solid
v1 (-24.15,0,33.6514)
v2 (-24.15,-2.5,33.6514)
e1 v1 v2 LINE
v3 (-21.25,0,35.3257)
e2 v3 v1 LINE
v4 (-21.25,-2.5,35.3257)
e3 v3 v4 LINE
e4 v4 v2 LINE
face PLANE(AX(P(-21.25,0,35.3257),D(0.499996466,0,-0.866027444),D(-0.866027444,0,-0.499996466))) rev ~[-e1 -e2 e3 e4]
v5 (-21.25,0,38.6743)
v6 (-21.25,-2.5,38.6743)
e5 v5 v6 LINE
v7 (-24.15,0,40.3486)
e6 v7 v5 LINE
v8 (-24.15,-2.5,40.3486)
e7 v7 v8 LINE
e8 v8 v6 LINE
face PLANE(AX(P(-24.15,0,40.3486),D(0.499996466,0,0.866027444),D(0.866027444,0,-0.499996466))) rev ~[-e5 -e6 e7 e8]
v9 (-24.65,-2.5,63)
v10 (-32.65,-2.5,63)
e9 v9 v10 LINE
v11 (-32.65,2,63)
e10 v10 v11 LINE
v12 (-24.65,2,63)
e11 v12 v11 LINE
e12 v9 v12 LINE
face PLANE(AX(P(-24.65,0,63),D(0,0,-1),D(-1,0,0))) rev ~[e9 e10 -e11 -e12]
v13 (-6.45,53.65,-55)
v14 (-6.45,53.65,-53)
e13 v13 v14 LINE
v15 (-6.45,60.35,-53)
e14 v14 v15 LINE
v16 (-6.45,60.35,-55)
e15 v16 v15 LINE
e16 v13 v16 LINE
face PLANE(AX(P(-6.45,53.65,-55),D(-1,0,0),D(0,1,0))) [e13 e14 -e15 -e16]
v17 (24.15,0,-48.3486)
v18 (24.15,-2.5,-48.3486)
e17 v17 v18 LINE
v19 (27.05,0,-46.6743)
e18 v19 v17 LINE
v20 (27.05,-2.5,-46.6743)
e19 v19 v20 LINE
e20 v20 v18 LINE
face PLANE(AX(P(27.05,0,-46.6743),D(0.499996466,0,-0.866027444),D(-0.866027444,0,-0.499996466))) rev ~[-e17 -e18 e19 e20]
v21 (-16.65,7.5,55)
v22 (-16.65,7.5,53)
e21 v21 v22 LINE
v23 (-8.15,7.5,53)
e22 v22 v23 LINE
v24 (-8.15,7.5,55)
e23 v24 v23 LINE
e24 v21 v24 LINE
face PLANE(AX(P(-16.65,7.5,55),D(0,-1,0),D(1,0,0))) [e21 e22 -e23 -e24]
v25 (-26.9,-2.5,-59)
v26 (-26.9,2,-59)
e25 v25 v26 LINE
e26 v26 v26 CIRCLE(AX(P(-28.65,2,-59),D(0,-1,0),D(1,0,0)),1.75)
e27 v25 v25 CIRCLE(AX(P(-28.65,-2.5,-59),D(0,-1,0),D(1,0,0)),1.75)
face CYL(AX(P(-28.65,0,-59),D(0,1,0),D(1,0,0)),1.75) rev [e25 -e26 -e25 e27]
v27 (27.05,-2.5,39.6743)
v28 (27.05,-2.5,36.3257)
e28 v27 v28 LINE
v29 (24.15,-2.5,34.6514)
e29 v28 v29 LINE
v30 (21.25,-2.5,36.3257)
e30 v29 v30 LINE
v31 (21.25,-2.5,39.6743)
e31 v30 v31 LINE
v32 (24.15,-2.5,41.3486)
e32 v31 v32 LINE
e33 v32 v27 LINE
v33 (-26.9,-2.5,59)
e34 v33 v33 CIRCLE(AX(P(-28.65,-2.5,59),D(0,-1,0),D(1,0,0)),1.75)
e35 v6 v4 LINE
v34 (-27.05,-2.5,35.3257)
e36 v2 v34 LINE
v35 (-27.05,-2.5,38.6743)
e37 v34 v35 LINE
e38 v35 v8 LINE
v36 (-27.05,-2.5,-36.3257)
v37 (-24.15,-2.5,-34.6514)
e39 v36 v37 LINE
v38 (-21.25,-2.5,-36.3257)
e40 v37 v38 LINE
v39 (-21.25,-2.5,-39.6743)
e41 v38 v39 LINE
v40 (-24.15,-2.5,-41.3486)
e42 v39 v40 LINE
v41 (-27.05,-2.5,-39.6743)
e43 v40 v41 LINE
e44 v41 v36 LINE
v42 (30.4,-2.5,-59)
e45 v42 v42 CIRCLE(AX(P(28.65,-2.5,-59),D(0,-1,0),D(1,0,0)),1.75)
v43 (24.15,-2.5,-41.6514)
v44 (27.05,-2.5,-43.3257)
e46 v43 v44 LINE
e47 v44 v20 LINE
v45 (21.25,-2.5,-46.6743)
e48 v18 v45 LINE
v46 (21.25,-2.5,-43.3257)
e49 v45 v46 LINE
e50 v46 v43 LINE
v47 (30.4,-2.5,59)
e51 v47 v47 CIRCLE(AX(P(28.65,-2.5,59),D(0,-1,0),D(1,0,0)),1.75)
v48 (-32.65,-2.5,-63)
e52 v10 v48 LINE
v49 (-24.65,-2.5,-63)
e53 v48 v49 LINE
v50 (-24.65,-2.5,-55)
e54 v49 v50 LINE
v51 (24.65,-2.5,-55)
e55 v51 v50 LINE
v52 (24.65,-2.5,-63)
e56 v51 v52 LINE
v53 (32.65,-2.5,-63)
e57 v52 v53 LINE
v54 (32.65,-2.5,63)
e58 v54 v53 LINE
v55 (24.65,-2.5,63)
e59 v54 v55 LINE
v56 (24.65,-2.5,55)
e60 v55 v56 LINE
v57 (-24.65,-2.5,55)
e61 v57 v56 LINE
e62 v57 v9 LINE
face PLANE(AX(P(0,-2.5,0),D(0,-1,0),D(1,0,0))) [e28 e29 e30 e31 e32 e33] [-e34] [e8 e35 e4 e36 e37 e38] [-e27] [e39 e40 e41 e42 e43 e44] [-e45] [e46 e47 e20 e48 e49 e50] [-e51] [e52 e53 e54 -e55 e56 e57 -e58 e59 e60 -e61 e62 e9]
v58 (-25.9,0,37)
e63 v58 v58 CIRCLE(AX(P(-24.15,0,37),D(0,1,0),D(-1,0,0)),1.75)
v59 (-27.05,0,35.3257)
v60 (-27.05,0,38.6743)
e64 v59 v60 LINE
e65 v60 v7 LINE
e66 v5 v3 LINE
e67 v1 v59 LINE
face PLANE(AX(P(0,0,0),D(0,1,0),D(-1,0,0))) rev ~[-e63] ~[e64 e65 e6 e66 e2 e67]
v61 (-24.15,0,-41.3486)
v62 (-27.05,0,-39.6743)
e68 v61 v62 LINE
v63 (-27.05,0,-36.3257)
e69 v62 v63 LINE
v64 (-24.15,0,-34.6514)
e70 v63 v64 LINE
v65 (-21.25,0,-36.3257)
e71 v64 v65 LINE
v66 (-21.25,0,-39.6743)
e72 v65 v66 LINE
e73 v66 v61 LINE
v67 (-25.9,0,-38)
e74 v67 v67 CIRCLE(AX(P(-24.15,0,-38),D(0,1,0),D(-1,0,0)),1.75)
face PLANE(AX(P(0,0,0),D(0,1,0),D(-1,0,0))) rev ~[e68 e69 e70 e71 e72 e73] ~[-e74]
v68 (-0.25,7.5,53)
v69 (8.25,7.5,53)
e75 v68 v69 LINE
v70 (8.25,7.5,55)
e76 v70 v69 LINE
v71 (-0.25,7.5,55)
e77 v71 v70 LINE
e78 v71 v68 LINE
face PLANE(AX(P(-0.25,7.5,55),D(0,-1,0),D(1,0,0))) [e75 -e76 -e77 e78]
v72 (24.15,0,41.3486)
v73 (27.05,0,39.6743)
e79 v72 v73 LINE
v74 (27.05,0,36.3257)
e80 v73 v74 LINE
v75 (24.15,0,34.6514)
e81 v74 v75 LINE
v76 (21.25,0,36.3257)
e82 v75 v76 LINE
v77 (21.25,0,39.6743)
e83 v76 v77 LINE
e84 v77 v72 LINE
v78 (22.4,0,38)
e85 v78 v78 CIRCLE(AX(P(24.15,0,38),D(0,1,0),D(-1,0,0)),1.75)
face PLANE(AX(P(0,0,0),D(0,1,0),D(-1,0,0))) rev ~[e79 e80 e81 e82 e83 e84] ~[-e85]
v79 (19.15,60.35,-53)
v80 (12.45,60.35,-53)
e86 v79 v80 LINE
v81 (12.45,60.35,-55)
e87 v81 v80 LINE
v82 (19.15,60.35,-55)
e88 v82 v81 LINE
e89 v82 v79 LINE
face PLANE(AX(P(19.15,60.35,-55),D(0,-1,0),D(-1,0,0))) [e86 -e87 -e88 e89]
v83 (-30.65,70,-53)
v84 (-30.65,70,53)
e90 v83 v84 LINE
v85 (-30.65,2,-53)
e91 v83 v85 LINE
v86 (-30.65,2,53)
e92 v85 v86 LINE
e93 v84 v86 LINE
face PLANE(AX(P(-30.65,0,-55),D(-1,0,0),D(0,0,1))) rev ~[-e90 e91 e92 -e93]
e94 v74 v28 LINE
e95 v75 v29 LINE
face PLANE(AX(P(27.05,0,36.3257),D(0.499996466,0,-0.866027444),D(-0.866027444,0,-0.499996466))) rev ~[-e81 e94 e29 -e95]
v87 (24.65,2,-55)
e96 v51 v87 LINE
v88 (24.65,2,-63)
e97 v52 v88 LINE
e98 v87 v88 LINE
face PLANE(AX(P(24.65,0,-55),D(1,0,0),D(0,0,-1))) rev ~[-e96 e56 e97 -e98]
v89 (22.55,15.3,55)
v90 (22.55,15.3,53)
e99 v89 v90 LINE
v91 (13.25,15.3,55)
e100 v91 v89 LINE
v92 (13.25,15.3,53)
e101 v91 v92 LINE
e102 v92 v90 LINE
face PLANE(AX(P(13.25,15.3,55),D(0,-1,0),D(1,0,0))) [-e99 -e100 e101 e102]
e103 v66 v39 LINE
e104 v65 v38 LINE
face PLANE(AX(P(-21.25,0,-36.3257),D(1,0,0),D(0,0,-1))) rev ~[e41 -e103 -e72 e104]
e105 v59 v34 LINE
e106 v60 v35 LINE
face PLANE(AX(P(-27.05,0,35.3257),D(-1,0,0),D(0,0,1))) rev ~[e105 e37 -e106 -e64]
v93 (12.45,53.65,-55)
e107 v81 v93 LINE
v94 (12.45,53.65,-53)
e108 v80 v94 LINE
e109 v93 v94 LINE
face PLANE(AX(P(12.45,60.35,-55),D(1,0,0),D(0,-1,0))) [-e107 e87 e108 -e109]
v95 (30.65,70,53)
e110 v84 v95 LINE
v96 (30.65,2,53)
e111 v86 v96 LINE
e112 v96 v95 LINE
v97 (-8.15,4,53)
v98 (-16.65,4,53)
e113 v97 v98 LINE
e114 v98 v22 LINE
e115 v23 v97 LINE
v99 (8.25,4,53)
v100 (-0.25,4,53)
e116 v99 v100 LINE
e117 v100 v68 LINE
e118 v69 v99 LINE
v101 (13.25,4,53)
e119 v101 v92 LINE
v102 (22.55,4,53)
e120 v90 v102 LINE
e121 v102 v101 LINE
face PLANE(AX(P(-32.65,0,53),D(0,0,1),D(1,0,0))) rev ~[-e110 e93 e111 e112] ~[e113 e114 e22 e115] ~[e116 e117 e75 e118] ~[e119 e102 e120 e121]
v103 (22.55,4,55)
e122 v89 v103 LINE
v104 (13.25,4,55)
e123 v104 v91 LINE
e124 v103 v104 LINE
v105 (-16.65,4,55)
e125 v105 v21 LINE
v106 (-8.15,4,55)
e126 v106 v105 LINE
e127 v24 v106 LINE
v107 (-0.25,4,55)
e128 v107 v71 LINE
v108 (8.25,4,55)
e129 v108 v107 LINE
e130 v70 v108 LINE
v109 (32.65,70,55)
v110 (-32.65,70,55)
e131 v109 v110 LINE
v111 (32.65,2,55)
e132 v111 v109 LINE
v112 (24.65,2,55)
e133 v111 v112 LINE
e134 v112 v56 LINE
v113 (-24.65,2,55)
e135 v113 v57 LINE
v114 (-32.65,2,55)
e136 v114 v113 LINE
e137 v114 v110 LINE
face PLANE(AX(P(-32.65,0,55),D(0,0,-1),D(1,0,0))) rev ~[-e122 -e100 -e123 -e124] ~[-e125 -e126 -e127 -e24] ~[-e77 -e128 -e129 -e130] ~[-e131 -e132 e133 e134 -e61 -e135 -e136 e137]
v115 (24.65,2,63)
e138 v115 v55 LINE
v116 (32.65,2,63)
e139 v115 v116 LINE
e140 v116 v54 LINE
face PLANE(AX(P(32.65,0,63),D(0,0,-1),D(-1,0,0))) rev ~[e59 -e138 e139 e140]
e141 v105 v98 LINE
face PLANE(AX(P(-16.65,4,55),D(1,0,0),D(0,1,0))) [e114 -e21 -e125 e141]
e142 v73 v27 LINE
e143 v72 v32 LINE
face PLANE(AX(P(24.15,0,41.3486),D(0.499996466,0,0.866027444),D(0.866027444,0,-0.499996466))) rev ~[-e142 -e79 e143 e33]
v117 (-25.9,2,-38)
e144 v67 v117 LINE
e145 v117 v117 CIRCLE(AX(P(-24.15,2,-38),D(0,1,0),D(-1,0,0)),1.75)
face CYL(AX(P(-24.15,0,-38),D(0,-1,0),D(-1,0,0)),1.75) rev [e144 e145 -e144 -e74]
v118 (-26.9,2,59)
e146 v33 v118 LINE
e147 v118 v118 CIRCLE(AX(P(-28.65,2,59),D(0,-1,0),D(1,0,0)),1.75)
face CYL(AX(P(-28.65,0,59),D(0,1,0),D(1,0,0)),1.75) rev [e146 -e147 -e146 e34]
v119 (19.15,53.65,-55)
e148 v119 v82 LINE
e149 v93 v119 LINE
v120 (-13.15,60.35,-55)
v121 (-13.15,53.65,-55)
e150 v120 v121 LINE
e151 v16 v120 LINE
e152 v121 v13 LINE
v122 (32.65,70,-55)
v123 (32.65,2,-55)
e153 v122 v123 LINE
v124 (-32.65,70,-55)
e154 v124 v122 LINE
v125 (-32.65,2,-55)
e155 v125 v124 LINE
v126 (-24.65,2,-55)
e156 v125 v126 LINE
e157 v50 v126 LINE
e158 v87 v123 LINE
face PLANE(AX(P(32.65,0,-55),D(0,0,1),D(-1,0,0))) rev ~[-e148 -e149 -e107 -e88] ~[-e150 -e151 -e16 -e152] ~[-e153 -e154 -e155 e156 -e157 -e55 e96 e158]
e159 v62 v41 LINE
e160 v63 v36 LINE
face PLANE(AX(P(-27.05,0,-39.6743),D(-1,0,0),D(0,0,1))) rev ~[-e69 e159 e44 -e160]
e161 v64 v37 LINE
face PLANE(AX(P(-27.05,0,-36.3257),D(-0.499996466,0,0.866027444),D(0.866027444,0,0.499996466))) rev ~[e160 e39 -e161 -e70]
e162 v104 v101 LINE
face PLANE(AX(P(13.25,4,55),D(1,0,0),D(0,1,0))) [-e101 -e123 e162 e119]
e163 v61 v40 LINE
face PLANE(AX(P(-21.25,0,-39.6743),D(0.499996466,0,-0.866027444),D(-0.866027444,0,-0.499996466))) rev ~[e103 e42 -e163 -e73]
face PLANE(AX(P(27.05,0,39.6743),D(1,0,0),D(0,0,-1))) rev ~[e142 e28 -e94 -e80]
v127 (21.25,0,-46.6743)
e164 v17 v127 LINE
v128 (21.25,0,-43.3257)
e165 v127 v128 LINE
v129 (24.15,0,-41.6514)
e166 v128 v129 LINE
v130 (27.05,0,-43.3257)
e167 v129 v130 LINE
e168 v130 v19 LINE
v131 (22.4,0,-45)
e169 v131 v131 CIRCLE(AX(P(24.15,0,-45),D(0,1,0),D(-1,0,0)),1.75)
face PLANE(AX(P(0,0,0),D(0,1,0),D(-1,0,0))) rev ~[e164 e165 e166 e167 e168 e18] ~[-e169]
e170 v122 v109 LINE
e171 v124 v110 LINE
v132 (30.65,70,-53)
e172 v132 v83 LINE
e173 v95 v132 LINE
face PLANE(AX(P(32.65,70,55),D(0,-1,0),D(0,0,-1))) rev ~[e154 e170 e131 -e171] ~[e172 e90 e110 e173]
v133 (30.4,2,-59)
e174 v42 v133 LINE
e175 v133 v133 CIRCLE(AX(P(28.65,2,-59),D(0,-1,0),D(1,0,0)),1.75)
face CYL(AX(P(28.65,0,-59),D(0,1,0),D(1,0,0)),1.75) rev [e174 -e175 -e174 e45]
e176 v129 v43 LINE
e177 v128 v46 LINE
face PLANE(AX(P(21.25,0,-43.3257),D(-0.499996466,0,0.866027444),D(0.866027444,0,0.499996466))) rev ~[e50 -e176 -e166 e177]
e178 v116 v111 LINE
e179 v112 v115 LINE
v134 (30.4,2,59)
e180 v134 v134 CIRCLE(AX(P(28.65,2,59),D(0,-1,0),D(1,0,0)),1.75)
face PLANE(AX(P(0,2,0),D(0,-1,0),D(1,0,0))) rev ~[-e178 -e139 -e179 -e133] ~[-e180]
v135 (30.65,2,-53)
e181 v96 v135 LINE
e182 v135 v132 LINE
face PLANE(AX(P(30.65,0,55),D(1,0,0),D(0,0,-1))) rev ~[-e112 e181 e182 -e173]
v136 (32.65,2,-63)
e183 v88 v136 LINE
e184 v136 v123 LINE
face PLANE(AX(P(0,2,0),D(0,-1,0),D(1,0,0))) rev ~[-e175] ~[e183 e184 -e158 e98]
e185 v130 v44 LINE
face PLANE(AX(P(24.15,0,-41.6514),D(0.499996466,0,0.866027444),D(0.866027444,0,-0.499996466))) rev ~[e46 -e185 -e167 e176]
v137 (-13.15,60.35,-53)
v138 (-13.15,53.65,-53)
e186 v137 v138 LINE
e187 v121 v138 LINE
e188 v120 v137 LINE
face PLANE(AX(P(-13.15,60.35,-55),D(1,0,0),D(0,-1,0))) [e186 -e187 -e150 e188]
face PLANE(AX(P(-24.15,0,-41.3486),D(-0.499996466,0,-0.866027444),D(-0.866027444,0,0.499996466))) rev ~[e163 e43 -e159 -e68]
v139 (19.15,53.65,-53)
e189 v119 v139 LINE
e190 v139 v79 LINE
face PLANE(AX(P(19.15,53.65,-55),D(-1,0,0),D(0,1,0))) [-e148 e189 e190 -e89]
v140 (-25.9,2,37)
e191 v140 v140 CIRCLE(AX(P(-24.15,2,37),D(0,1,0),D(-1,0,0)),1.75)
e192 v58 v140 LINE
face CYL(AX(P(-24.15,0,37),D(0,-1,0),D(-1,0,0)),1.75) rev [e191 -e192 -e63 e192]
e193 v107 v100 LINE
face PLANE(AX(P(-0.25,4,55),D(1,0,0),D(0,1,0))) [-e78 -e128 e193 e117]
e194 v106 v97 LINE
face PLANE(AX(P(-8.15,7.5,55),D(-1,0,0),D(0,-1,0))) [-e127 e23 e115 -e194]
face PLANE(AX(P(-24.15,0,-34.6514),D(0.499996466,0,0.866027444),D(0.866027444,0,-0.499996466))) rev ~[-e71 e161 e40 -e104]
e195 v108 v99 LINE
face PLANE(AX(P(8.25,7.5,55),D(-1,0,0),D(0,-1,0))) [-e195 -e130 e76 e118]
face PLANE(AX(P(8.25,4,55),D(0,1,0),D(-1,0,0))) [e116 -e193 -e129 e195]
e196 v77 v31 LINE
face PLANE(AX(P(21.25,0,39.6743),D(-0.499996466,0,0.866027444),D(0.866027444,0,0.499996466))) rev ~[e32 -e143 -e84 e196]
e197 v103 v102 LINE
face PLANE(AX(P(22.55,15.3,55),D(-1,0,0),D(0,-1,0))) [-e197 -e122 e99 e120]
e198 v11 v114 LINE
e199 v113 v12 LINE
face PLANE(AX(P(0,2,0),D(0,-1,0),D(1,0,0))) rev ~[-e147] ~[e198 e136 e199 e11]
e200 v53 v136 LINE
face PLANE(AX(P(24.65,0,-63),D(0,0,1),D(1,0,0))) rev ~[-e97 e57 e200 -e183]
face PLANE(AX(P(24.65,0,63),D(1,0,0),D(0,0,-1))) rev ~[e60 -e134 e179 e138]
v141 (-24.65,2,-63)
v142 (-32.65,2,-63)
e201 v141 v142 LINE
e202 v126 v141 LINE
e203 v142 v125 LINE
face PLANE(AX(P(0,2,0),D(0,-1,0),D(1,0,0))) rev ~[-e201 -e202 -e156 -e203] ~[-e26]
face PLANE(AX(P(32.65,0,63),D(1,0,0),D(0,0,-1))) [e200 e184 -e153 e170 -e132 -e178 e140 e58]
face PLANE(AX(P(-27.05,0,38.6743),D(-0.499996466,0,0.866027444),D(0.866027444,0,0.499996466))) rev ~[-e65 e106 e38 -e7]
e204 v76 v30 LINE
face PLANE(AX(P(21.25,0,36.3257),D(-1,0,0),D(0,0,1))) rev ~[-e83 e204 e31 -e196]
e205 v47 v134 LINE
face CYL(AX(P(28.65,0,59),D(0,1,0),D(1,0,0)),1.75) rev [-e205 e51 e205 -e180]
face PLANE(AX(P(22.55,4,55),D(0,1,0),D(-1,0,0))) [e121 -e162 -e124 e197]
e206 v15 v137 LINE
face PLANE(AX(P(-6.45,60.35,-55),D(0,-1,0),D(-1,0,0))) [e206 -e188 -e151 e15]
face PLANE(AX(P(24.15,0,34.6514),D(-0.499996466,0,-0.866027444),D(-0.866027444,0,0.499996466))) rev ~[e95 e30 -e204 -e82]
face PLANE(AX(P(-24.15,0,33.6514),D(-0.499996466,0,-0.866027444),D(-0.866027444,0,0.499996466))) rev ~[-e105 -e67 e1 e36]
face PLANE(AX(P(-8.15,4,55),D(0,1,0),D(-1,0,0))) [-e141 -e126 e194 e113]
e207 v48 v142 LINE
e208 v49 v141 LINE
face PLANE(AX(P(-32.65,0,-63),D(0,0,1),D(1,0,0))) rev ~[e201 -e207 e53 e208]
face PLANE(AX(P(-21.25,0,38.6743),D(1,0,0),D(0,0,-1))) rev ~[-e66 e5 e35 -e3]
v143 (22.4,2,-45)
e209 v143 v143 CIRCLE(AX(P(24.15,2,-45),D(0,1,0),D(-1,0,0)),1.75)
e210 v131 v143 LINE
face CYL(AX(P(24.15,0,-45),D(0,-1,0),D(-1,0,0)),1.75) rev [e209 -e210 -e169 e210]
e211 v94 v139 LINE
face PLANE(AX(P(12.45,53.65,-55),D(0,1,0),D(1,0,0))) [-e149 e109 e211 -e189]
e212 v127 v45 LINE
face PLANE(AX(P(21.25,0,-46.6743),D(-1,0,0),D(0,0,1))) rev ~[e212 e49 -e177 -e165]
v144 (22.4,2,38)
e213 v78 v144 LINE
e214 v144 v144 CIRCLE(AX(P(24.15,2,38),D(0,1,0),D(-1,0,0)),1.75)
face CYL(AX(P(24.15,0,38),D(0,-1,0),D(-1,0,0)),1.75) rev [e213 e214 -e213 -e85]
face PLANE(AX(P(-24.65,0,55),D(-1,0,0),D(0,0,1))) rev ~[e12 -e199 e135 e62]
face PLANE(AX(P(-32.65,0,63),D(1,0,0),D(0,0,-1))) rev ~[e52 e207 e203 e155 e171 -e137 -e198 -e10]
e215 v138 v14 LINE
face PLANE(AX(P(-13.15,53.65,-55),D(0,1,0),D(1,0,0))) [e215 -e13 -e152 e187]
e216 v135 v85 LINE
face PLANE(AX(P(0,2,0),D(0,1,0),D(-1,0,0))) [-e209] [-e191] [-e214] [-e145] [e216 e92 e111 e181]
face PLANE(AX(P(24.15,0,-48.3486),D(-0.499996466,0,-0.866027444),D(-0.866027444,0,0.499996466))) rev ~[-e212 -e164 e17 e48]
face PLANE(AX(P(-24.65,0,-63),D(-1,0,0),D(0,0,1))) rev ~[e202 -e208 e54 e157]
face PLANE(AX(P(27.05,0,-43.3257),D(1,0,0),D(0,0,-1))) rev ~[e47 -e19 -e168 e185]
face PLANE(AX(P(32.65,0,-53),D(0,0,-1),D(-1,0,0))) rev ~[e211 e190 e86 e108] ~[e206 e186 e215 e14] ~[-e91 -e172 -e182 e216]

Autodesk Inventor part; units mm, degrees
ref_plane "YZ Plane" through (0, 0, 0) normal (1, 0, 0) x (0, 1, 0)
ref_plane "XZ Plane" through (0, 0, 0) normal (0, 1, 0) x (-1, 0, 0)
ref_plane "XY Plane" through (0, 0, 0) normal (0, 0, 1) x (1, 0, 0)
sketch "Sketch1" plane through (0, 0, 0) normal (0, 1, 0) x (-1, 0, 0)
  line L0 (32.65, 55) -> (-32.65, 55)
  line L1 (-32.65, 55) -> (-32.65, -55)
  line L2 (-32.65, -55) -> (32.65, -55)
  line L3 (32.65, -55) -> (32.65, 55)
  line L4 (32.65, 55) -> (-32.65, -55) construction
  line L5 (-32.65, 55) -> (32.65, -55) construction
  circle A0 centre (-24.15, 38) radius 1.75
  circle A1 centre (-24.15, -45) radius 1.75
  circle A2 centre (24.15, 37) radius 1.75
  circle A3 centre (24.15, -38) radius 1.75
  point P0 (0, 0)
  dimension "d0" = 110
  dimension "d1" = 65.3
  dimension "d2" = 83
  dimension "d3" = 8.5
  dimension "d4" = 17
  dimension "d5" = 3.5
  dimension "d6" = 3.5
  dimension "d7" = 3.5
  dimension "d8" = 1
  dimension "d9" = 48.3
  dimension "d10" = 3.5
  dimension "d11" = 75
extrude "Extrusion1" add sketch "Sketch1" along normal blind 2
sketch "Sketch2" plane through (-32.65, 0, 55) normal (0, 0, 1) x (1, 0, 0)
  line L0 (0, 70) -> (65.3, 70)
  line L1 (65.3, 70) -> (65.3, 0)
  line L2 (65.3, 0) -> (0, 0)
  line L3 (0, 0) -> (0, 70)
  line L4 (0, 70) -> (65.3, 0) construction
  line L5 (65.3, 70) -> (0, 0) construction
  line L6 (65.3, 0) -> (65.3, 2) projected
  line L7 (16, 7.5) -> (24.5, 7.5)
  line L8 (24.5, 7.5) -> (24.5, 4)
  line L9 (24.5, 4) -> (16, 4)
  line L10 (16, 4) -> (16, 7.5)
  line L11 (16, 7.5) -> (24.5, 4) construction
  line L12 (24.5, 7.5) -> (16, 4) construction
  line L13 (32.4, 7.5) -> (40.9, 7.5)
  line L14 (40.9, 7.5) -> (40.9, 4)
  line L15 (40.9, 4) -> (32.4, 4)
  line L16 (32.4, 4) -> (32.4, 7.5)
  line L17 (32.4, 7.5) -> (40.9, 4) construction
  line L18 (40.9, 7.5) -> (32.4, 4) construction
  line L19 (45.9, 15.3) -> (55.2, 15.3)
  line L20 (55.2, 15.3) -> (55.2, 4)
  line L21 (55.2, 4) -> (45.9, 4)
  line L22 (45.9, 4) -> (45.9, 15.3)
  line L23 (45.9, 15.3) -> (55.2, 4) construction
  line L24 (55.2, 15.3) -> (45.9, 4) construction
  line L25 (0, 2) -> (65.3, 2) projected
  point P0 (32.65, 0)
  point P1 (32.65, 35)
  point P2 (20.25, 5.75)
  point P3 (36.65, 5.75)
  point P4 (50.55, 9.65)
  point P5 (45.9, 9.65)
  dimension "d14" = 70
  dimension "d15" = 11.3
  dimension "d16" = 9.3
  dimension "d17" = 8.5
  dimension "d18" = 3.5
  dimension "d19" = 8.5
  dimension "d20" = 3.5
  dimension "d21" = 2
  dimension "d22" = 7.9
  dimension "d23" = 16
  dimension "d24" = 5
extrude "Extrusion2" add sketch "Sketch2" against normal blind 2 contours L0 L1 L25 L3
sketch "Sketch3" plane through (32.65, 0, 55) normal (1, 0, 0) x (0, 0, -1)
  line L0 (110, 0) -> (110, 2) projected
  line L1 (0, 70) -> (110, 70)
  line L2 (110, 70) -> (110, 0)
  line L3 (110, 0) -> (0, 0)
  line L4 (0, 0) -> (0, 70)
  line L5 (0, 70) -> (110, 0) construction
  line L6 (110, 70) -> (0, 0) construction
  point P0 (55, 0)
  point P1 (55, 35)
  point P2 (0, 70)
extrude "Extrusion3" add sketch "Sketch3" against normal blind 2
sketch "Sketch4" plane through (-32.65, 0, -55) normal (-1, 0, 0) x (0, 0, 1)
  line L0 (110, 0) -> (110, 70) projected
  line L1 (0, 70) -> (110, 70)
  line L2 (110, 70) -> (110, 0)
  line L3 (110, 0) -> (0, 0)
  line L4 (0, 0) -> (0, 70)
  line L5 (0, 70) -> (110, 0) construction
  line L6 (110, 70) -> (0, 0) construction
  point P0 (55, 0)
  point P1 (55, 35)
  point P2 (0, 70)
extrude "Extrusion4" add sketch "Sketch4" against normal blind 2
sketch "Sketch5" plane through (32.65, 0, -55) normal (0, 0, -1) x (-1, 0, 0)
  line L0 (65.3, 0) -> (65.3, 70) projected
  line L1 (0, 70) -> (65.3, 70)
  line L2 (65.3, 70) -> (65.3, 0)
  line L3 (65.3, 0) -> (0, 0)
  line L4 (0, 0) -> (0, 70)
  line L5 (0, 70) -> (65.3, 0) construction
  line L6 (65.3, 70) -> (0, 0) construction
  line L7 (13.5, 60.35) -> (20.2, 60.35)
  line L8 (20.2, 60.35) -> (20.2, 53.65)
  line L9 (20.2, 53.65) -> (13.5, 53.65)
  line L10 (13.5, 53.65) -> (13.5, 60.35)
  line L11 (13.5, 60.35) -> (20.2, 53.65) construction
  line L12 (20.2, 60.35) -> (13.5, 53.65) construction
  line L13 (39.1, 60.35) -> (45.8, 60.35)
  line L14 (45.8, 60.35) -> (45.8, 53.65)
  line L15 (45.8, 53.65) -> (39.1, 53.65)
  line L16 (39.1, 53.65) -> (39.1, 60.35)
  line L17 (39.1, 60.35) -> (45.8, 53.65) construction
  line L18 (45.8, 60.35) -> (39.1, 53.65) construction
  line L19 (2, 2) -> (63.3, 2) projected
  point P0 (32.65, 0)
  point P1 (32.65, 35)
  point P2 (16.85, 57)
  point P3 (42.45, 57)
  point P4 (20.2, 57)
  point P5 (39.1, 57)
  point P6 (45.8, 57)
  dimension "d31" = 6.7
  dimension "d32" = 6.7
  dimension "d33" = 6.7
  dimension "d34" = 6.7
  dimension "d35" = 18.9
  dimension "d36" = 13.5
  dimension "d38" = 55
  dimension "d39" = 19.5
extrude "Extrusion5" add sketch "Sketch5" against normal blind 2
sketch "Sketch6" plane through (0, 0, 0) normal (0, -1, 0) x (1, 0, 0)
  line L0 (-32.65, -55) -> (32.65, -55) projected
  line L1 (-24.65, -63) -> (-32.65, -63)
  line L2 (-32.65, -63) -> (-32.65, -55)
  line L3 (-32.65, -55) -> (-24.65, -55)
  line L4 (-24.65, -55) -> (-24.65, -63)
  line L5 (-24.65, -63) -> (-32.65, -55) construction
  line L6 (-32.65, -63) -> (-24.65, -55) construction
  line L7 (0, 0) -> (-42.6536, 0) construction
  line L8 (0, 0) -> (0, 77.6951) construction
  line L9 (-24.65, 63) -> (-32.65, 63)
  line L10 (-32.65, 63) -> (-32.65, 55)
  line L11 (-32.65, 55) -> (-24.65, 55)
  line L12 (-24.65, 55) -> (-24.65, 63)
  line L13 (-24.65, 63) -> (-32.65, 55) construction
  line L14 (-32.65, 63) -> (-24.65, 55) construction
  line L15 (24.65, -63) -> (32.65, -63)
  line L16 (32.65, -63) -> (32.65, -55)
  line L17 (32.65, -55) -> (24.65, -55)
  line L18 (24.65, -55) -> (24.65, -63)
  line L19 (24.65, -63) -> (32.65, -55) construction
  line L20 (32.65, -63) -> (24.65, -55) construction
  line L21 (24.65, 63) -> (32.65, 63)
  line L22 (32.65, 63) -> (32.65, 55)
  line L23 (32.65, 55) -> (24.65, 55)
  line L24 (24.65, 55) -> (24.65, 63)
  line L25 (24.65, 63) -> (32.65, 55) construction
  line L26 (32.65, 63) -> (24.65, 55) construction
  circle A0 centre (-28.65, -59) radius 1.75
  circle A1 centre (-28.65, 59) radius 1.75
  circle A2 centre (28.65, -59) radius 1.75
  circle A3 centre (28.65, 59) radius 1.75
  point P0 (-28.65, 59)
  point P1 (28.65, 59)
  dimension "d42" = 8
  dimension "d43" = 8
  dimension "d44" = 3.5
extrude "Extrusion6" add sketch "Sketch6" against normal blind 2
sketch "Sketch7" plane through (0, 0, 0) normal (0, -1, 0) x (1, 0, 0)
  circle A0 centre (-24.15, -38) radius 1.75 projected
  line L0 (-24.15, -34.6514) -> (-21.25, -36.3257)
  line L1 (-21.25, -36.3257) -> (-21.25, -39.6743)
  line L2 (-21.25, -39.6743) -> (-24.15, -41.3486)
  line L3 (-24.15, -41.3486) -> (-27.05, -39.6743)
  line L4 (-27.05, -39.6743) -> (-27.05, -36.3257)
  line L5 (-27.05, -36.3257) -> (-24.15, -34.6514)
  circle A1 centre (-24.15, 37) radius 1.75 projected
  line L6 (-24.15, 40.3486) -> (-21.25, 38.6743)
  line L7 (-21.25, 38.6743) -> (-21.25, 35.3257)
  line L8 (-21.25, 35.3257) -> (-24.15, 33.6514)
  line L9 (-24.15, 33.6514) -> (-27.05, 35.3257)
  line L10 (-27.05, 35.3257) -> (-27.05, 38.6743)
  line L11 (-27.05, 38.6743) -> (-24.15, 40.3486)
  circle A2 centre (24.15, 38) radius 1.75 projected
  line L12 (24.15, 41.3486) -> (27.05, 39.6743)
  line L13 (27.05, 39.6743) -> (27.05, 36.3257)
  line L14 (27.05, 36.3257) -> (24.15, 34.6514)
  line L15 (24.15, 34.6514) -> (21.25, 36.3257)
  line L16 (21.25, 36.3257) -> (21.25, 39.6743)
  line L17 (21.25, 39.6743) -> (24.15, 41.3486)
  circle A3 centre (24.15, -45) radius 1.75 projected
  line L18 (24.15, -41.6514) -> (27.05, -43.3257)
  line L19 (27.05, -43.3257) -> (27.05, -46.6743)
  line L20 (27.05, -46.6743) -> (24.15, -48.3486)
  line L21 (24.15, -48.3486) -> (21.25, -46.6743)
  line L22 (21.25, -46.6743) -> (21.25, -43.3257)
  line L23 (21.25, -43.3257) -> (24.15, -41.6514)
  circle A4 centre (-28.65, 59) radius 1.75 projected
  circle A5 centre (28.65, -59) radius 1.75 projected
  circle A6 centre (28.65, 59) radius 1.75 projected
  circle A7 centre (-28.65, -59) radius 1.75 projected
  circle A8 centre (-24.15, -38) radius 1.75 projected
  circle A9 centre (-24.15, 37) radius 1.75 projected
  circle A10 centre (24.15, -45) radius 1.75 projected
  circle A11 centre (24.15, 38) radius 1.75 projected
  line L24 (32.65, 63) -> (32.65, -63) projected
  line L25 (32.65, 63) -> (24.65, 63) projected
  line L26 (24.65, 63) -> (24.65, 55) projected
  line L27 (-24.65, 55) -> (24.65, 55) projected
  line L28 (-24.65, 55) -> (-24.65, 63) projected
  line L29 (-24.65, 63) -> (-32.65, 63) projected
  line L30 (-32.65, 63) -> (-32.65, -63) projected
  line L31 (-32.65, -63) -> (-24.65, -63) projected
  line L32 (-24.65, -63) -> (-24.65, -55) projected
  line L33 (24.65, -55) -> (-24.65, -55) projected
  line L34 (24.65, -55) -> (24.65, -63) projected
  line L35 (24.65, -63) -> (32.65, -63) projected
  point P0 (0, 0)
  point P1 (27.05, 38)
  point P2 (21.25, 38)
  point P3 (27.05, -45)
  point P4 (21.25, -45)
  dimension "d47" = 5.8
  dimension "d48" = 5.8
  dimension "d49" = 5.8
  dimension "d50" = 5.8
extrude "Extrusion7" add sketch "Sketch7" along normal blind 2.5 contours L24 L35 L34 L33 L32 L31 L30 L29 L28 L27 L26 L25
equation "\"d6\" = d5"
equation "\"d7\" = d5"
equation "\"d10\" = d5"
equation "\"d48\" = d47"
equation "\"d49\" = d47"
equation "\"d50\" = d47"
properties part number "base"
